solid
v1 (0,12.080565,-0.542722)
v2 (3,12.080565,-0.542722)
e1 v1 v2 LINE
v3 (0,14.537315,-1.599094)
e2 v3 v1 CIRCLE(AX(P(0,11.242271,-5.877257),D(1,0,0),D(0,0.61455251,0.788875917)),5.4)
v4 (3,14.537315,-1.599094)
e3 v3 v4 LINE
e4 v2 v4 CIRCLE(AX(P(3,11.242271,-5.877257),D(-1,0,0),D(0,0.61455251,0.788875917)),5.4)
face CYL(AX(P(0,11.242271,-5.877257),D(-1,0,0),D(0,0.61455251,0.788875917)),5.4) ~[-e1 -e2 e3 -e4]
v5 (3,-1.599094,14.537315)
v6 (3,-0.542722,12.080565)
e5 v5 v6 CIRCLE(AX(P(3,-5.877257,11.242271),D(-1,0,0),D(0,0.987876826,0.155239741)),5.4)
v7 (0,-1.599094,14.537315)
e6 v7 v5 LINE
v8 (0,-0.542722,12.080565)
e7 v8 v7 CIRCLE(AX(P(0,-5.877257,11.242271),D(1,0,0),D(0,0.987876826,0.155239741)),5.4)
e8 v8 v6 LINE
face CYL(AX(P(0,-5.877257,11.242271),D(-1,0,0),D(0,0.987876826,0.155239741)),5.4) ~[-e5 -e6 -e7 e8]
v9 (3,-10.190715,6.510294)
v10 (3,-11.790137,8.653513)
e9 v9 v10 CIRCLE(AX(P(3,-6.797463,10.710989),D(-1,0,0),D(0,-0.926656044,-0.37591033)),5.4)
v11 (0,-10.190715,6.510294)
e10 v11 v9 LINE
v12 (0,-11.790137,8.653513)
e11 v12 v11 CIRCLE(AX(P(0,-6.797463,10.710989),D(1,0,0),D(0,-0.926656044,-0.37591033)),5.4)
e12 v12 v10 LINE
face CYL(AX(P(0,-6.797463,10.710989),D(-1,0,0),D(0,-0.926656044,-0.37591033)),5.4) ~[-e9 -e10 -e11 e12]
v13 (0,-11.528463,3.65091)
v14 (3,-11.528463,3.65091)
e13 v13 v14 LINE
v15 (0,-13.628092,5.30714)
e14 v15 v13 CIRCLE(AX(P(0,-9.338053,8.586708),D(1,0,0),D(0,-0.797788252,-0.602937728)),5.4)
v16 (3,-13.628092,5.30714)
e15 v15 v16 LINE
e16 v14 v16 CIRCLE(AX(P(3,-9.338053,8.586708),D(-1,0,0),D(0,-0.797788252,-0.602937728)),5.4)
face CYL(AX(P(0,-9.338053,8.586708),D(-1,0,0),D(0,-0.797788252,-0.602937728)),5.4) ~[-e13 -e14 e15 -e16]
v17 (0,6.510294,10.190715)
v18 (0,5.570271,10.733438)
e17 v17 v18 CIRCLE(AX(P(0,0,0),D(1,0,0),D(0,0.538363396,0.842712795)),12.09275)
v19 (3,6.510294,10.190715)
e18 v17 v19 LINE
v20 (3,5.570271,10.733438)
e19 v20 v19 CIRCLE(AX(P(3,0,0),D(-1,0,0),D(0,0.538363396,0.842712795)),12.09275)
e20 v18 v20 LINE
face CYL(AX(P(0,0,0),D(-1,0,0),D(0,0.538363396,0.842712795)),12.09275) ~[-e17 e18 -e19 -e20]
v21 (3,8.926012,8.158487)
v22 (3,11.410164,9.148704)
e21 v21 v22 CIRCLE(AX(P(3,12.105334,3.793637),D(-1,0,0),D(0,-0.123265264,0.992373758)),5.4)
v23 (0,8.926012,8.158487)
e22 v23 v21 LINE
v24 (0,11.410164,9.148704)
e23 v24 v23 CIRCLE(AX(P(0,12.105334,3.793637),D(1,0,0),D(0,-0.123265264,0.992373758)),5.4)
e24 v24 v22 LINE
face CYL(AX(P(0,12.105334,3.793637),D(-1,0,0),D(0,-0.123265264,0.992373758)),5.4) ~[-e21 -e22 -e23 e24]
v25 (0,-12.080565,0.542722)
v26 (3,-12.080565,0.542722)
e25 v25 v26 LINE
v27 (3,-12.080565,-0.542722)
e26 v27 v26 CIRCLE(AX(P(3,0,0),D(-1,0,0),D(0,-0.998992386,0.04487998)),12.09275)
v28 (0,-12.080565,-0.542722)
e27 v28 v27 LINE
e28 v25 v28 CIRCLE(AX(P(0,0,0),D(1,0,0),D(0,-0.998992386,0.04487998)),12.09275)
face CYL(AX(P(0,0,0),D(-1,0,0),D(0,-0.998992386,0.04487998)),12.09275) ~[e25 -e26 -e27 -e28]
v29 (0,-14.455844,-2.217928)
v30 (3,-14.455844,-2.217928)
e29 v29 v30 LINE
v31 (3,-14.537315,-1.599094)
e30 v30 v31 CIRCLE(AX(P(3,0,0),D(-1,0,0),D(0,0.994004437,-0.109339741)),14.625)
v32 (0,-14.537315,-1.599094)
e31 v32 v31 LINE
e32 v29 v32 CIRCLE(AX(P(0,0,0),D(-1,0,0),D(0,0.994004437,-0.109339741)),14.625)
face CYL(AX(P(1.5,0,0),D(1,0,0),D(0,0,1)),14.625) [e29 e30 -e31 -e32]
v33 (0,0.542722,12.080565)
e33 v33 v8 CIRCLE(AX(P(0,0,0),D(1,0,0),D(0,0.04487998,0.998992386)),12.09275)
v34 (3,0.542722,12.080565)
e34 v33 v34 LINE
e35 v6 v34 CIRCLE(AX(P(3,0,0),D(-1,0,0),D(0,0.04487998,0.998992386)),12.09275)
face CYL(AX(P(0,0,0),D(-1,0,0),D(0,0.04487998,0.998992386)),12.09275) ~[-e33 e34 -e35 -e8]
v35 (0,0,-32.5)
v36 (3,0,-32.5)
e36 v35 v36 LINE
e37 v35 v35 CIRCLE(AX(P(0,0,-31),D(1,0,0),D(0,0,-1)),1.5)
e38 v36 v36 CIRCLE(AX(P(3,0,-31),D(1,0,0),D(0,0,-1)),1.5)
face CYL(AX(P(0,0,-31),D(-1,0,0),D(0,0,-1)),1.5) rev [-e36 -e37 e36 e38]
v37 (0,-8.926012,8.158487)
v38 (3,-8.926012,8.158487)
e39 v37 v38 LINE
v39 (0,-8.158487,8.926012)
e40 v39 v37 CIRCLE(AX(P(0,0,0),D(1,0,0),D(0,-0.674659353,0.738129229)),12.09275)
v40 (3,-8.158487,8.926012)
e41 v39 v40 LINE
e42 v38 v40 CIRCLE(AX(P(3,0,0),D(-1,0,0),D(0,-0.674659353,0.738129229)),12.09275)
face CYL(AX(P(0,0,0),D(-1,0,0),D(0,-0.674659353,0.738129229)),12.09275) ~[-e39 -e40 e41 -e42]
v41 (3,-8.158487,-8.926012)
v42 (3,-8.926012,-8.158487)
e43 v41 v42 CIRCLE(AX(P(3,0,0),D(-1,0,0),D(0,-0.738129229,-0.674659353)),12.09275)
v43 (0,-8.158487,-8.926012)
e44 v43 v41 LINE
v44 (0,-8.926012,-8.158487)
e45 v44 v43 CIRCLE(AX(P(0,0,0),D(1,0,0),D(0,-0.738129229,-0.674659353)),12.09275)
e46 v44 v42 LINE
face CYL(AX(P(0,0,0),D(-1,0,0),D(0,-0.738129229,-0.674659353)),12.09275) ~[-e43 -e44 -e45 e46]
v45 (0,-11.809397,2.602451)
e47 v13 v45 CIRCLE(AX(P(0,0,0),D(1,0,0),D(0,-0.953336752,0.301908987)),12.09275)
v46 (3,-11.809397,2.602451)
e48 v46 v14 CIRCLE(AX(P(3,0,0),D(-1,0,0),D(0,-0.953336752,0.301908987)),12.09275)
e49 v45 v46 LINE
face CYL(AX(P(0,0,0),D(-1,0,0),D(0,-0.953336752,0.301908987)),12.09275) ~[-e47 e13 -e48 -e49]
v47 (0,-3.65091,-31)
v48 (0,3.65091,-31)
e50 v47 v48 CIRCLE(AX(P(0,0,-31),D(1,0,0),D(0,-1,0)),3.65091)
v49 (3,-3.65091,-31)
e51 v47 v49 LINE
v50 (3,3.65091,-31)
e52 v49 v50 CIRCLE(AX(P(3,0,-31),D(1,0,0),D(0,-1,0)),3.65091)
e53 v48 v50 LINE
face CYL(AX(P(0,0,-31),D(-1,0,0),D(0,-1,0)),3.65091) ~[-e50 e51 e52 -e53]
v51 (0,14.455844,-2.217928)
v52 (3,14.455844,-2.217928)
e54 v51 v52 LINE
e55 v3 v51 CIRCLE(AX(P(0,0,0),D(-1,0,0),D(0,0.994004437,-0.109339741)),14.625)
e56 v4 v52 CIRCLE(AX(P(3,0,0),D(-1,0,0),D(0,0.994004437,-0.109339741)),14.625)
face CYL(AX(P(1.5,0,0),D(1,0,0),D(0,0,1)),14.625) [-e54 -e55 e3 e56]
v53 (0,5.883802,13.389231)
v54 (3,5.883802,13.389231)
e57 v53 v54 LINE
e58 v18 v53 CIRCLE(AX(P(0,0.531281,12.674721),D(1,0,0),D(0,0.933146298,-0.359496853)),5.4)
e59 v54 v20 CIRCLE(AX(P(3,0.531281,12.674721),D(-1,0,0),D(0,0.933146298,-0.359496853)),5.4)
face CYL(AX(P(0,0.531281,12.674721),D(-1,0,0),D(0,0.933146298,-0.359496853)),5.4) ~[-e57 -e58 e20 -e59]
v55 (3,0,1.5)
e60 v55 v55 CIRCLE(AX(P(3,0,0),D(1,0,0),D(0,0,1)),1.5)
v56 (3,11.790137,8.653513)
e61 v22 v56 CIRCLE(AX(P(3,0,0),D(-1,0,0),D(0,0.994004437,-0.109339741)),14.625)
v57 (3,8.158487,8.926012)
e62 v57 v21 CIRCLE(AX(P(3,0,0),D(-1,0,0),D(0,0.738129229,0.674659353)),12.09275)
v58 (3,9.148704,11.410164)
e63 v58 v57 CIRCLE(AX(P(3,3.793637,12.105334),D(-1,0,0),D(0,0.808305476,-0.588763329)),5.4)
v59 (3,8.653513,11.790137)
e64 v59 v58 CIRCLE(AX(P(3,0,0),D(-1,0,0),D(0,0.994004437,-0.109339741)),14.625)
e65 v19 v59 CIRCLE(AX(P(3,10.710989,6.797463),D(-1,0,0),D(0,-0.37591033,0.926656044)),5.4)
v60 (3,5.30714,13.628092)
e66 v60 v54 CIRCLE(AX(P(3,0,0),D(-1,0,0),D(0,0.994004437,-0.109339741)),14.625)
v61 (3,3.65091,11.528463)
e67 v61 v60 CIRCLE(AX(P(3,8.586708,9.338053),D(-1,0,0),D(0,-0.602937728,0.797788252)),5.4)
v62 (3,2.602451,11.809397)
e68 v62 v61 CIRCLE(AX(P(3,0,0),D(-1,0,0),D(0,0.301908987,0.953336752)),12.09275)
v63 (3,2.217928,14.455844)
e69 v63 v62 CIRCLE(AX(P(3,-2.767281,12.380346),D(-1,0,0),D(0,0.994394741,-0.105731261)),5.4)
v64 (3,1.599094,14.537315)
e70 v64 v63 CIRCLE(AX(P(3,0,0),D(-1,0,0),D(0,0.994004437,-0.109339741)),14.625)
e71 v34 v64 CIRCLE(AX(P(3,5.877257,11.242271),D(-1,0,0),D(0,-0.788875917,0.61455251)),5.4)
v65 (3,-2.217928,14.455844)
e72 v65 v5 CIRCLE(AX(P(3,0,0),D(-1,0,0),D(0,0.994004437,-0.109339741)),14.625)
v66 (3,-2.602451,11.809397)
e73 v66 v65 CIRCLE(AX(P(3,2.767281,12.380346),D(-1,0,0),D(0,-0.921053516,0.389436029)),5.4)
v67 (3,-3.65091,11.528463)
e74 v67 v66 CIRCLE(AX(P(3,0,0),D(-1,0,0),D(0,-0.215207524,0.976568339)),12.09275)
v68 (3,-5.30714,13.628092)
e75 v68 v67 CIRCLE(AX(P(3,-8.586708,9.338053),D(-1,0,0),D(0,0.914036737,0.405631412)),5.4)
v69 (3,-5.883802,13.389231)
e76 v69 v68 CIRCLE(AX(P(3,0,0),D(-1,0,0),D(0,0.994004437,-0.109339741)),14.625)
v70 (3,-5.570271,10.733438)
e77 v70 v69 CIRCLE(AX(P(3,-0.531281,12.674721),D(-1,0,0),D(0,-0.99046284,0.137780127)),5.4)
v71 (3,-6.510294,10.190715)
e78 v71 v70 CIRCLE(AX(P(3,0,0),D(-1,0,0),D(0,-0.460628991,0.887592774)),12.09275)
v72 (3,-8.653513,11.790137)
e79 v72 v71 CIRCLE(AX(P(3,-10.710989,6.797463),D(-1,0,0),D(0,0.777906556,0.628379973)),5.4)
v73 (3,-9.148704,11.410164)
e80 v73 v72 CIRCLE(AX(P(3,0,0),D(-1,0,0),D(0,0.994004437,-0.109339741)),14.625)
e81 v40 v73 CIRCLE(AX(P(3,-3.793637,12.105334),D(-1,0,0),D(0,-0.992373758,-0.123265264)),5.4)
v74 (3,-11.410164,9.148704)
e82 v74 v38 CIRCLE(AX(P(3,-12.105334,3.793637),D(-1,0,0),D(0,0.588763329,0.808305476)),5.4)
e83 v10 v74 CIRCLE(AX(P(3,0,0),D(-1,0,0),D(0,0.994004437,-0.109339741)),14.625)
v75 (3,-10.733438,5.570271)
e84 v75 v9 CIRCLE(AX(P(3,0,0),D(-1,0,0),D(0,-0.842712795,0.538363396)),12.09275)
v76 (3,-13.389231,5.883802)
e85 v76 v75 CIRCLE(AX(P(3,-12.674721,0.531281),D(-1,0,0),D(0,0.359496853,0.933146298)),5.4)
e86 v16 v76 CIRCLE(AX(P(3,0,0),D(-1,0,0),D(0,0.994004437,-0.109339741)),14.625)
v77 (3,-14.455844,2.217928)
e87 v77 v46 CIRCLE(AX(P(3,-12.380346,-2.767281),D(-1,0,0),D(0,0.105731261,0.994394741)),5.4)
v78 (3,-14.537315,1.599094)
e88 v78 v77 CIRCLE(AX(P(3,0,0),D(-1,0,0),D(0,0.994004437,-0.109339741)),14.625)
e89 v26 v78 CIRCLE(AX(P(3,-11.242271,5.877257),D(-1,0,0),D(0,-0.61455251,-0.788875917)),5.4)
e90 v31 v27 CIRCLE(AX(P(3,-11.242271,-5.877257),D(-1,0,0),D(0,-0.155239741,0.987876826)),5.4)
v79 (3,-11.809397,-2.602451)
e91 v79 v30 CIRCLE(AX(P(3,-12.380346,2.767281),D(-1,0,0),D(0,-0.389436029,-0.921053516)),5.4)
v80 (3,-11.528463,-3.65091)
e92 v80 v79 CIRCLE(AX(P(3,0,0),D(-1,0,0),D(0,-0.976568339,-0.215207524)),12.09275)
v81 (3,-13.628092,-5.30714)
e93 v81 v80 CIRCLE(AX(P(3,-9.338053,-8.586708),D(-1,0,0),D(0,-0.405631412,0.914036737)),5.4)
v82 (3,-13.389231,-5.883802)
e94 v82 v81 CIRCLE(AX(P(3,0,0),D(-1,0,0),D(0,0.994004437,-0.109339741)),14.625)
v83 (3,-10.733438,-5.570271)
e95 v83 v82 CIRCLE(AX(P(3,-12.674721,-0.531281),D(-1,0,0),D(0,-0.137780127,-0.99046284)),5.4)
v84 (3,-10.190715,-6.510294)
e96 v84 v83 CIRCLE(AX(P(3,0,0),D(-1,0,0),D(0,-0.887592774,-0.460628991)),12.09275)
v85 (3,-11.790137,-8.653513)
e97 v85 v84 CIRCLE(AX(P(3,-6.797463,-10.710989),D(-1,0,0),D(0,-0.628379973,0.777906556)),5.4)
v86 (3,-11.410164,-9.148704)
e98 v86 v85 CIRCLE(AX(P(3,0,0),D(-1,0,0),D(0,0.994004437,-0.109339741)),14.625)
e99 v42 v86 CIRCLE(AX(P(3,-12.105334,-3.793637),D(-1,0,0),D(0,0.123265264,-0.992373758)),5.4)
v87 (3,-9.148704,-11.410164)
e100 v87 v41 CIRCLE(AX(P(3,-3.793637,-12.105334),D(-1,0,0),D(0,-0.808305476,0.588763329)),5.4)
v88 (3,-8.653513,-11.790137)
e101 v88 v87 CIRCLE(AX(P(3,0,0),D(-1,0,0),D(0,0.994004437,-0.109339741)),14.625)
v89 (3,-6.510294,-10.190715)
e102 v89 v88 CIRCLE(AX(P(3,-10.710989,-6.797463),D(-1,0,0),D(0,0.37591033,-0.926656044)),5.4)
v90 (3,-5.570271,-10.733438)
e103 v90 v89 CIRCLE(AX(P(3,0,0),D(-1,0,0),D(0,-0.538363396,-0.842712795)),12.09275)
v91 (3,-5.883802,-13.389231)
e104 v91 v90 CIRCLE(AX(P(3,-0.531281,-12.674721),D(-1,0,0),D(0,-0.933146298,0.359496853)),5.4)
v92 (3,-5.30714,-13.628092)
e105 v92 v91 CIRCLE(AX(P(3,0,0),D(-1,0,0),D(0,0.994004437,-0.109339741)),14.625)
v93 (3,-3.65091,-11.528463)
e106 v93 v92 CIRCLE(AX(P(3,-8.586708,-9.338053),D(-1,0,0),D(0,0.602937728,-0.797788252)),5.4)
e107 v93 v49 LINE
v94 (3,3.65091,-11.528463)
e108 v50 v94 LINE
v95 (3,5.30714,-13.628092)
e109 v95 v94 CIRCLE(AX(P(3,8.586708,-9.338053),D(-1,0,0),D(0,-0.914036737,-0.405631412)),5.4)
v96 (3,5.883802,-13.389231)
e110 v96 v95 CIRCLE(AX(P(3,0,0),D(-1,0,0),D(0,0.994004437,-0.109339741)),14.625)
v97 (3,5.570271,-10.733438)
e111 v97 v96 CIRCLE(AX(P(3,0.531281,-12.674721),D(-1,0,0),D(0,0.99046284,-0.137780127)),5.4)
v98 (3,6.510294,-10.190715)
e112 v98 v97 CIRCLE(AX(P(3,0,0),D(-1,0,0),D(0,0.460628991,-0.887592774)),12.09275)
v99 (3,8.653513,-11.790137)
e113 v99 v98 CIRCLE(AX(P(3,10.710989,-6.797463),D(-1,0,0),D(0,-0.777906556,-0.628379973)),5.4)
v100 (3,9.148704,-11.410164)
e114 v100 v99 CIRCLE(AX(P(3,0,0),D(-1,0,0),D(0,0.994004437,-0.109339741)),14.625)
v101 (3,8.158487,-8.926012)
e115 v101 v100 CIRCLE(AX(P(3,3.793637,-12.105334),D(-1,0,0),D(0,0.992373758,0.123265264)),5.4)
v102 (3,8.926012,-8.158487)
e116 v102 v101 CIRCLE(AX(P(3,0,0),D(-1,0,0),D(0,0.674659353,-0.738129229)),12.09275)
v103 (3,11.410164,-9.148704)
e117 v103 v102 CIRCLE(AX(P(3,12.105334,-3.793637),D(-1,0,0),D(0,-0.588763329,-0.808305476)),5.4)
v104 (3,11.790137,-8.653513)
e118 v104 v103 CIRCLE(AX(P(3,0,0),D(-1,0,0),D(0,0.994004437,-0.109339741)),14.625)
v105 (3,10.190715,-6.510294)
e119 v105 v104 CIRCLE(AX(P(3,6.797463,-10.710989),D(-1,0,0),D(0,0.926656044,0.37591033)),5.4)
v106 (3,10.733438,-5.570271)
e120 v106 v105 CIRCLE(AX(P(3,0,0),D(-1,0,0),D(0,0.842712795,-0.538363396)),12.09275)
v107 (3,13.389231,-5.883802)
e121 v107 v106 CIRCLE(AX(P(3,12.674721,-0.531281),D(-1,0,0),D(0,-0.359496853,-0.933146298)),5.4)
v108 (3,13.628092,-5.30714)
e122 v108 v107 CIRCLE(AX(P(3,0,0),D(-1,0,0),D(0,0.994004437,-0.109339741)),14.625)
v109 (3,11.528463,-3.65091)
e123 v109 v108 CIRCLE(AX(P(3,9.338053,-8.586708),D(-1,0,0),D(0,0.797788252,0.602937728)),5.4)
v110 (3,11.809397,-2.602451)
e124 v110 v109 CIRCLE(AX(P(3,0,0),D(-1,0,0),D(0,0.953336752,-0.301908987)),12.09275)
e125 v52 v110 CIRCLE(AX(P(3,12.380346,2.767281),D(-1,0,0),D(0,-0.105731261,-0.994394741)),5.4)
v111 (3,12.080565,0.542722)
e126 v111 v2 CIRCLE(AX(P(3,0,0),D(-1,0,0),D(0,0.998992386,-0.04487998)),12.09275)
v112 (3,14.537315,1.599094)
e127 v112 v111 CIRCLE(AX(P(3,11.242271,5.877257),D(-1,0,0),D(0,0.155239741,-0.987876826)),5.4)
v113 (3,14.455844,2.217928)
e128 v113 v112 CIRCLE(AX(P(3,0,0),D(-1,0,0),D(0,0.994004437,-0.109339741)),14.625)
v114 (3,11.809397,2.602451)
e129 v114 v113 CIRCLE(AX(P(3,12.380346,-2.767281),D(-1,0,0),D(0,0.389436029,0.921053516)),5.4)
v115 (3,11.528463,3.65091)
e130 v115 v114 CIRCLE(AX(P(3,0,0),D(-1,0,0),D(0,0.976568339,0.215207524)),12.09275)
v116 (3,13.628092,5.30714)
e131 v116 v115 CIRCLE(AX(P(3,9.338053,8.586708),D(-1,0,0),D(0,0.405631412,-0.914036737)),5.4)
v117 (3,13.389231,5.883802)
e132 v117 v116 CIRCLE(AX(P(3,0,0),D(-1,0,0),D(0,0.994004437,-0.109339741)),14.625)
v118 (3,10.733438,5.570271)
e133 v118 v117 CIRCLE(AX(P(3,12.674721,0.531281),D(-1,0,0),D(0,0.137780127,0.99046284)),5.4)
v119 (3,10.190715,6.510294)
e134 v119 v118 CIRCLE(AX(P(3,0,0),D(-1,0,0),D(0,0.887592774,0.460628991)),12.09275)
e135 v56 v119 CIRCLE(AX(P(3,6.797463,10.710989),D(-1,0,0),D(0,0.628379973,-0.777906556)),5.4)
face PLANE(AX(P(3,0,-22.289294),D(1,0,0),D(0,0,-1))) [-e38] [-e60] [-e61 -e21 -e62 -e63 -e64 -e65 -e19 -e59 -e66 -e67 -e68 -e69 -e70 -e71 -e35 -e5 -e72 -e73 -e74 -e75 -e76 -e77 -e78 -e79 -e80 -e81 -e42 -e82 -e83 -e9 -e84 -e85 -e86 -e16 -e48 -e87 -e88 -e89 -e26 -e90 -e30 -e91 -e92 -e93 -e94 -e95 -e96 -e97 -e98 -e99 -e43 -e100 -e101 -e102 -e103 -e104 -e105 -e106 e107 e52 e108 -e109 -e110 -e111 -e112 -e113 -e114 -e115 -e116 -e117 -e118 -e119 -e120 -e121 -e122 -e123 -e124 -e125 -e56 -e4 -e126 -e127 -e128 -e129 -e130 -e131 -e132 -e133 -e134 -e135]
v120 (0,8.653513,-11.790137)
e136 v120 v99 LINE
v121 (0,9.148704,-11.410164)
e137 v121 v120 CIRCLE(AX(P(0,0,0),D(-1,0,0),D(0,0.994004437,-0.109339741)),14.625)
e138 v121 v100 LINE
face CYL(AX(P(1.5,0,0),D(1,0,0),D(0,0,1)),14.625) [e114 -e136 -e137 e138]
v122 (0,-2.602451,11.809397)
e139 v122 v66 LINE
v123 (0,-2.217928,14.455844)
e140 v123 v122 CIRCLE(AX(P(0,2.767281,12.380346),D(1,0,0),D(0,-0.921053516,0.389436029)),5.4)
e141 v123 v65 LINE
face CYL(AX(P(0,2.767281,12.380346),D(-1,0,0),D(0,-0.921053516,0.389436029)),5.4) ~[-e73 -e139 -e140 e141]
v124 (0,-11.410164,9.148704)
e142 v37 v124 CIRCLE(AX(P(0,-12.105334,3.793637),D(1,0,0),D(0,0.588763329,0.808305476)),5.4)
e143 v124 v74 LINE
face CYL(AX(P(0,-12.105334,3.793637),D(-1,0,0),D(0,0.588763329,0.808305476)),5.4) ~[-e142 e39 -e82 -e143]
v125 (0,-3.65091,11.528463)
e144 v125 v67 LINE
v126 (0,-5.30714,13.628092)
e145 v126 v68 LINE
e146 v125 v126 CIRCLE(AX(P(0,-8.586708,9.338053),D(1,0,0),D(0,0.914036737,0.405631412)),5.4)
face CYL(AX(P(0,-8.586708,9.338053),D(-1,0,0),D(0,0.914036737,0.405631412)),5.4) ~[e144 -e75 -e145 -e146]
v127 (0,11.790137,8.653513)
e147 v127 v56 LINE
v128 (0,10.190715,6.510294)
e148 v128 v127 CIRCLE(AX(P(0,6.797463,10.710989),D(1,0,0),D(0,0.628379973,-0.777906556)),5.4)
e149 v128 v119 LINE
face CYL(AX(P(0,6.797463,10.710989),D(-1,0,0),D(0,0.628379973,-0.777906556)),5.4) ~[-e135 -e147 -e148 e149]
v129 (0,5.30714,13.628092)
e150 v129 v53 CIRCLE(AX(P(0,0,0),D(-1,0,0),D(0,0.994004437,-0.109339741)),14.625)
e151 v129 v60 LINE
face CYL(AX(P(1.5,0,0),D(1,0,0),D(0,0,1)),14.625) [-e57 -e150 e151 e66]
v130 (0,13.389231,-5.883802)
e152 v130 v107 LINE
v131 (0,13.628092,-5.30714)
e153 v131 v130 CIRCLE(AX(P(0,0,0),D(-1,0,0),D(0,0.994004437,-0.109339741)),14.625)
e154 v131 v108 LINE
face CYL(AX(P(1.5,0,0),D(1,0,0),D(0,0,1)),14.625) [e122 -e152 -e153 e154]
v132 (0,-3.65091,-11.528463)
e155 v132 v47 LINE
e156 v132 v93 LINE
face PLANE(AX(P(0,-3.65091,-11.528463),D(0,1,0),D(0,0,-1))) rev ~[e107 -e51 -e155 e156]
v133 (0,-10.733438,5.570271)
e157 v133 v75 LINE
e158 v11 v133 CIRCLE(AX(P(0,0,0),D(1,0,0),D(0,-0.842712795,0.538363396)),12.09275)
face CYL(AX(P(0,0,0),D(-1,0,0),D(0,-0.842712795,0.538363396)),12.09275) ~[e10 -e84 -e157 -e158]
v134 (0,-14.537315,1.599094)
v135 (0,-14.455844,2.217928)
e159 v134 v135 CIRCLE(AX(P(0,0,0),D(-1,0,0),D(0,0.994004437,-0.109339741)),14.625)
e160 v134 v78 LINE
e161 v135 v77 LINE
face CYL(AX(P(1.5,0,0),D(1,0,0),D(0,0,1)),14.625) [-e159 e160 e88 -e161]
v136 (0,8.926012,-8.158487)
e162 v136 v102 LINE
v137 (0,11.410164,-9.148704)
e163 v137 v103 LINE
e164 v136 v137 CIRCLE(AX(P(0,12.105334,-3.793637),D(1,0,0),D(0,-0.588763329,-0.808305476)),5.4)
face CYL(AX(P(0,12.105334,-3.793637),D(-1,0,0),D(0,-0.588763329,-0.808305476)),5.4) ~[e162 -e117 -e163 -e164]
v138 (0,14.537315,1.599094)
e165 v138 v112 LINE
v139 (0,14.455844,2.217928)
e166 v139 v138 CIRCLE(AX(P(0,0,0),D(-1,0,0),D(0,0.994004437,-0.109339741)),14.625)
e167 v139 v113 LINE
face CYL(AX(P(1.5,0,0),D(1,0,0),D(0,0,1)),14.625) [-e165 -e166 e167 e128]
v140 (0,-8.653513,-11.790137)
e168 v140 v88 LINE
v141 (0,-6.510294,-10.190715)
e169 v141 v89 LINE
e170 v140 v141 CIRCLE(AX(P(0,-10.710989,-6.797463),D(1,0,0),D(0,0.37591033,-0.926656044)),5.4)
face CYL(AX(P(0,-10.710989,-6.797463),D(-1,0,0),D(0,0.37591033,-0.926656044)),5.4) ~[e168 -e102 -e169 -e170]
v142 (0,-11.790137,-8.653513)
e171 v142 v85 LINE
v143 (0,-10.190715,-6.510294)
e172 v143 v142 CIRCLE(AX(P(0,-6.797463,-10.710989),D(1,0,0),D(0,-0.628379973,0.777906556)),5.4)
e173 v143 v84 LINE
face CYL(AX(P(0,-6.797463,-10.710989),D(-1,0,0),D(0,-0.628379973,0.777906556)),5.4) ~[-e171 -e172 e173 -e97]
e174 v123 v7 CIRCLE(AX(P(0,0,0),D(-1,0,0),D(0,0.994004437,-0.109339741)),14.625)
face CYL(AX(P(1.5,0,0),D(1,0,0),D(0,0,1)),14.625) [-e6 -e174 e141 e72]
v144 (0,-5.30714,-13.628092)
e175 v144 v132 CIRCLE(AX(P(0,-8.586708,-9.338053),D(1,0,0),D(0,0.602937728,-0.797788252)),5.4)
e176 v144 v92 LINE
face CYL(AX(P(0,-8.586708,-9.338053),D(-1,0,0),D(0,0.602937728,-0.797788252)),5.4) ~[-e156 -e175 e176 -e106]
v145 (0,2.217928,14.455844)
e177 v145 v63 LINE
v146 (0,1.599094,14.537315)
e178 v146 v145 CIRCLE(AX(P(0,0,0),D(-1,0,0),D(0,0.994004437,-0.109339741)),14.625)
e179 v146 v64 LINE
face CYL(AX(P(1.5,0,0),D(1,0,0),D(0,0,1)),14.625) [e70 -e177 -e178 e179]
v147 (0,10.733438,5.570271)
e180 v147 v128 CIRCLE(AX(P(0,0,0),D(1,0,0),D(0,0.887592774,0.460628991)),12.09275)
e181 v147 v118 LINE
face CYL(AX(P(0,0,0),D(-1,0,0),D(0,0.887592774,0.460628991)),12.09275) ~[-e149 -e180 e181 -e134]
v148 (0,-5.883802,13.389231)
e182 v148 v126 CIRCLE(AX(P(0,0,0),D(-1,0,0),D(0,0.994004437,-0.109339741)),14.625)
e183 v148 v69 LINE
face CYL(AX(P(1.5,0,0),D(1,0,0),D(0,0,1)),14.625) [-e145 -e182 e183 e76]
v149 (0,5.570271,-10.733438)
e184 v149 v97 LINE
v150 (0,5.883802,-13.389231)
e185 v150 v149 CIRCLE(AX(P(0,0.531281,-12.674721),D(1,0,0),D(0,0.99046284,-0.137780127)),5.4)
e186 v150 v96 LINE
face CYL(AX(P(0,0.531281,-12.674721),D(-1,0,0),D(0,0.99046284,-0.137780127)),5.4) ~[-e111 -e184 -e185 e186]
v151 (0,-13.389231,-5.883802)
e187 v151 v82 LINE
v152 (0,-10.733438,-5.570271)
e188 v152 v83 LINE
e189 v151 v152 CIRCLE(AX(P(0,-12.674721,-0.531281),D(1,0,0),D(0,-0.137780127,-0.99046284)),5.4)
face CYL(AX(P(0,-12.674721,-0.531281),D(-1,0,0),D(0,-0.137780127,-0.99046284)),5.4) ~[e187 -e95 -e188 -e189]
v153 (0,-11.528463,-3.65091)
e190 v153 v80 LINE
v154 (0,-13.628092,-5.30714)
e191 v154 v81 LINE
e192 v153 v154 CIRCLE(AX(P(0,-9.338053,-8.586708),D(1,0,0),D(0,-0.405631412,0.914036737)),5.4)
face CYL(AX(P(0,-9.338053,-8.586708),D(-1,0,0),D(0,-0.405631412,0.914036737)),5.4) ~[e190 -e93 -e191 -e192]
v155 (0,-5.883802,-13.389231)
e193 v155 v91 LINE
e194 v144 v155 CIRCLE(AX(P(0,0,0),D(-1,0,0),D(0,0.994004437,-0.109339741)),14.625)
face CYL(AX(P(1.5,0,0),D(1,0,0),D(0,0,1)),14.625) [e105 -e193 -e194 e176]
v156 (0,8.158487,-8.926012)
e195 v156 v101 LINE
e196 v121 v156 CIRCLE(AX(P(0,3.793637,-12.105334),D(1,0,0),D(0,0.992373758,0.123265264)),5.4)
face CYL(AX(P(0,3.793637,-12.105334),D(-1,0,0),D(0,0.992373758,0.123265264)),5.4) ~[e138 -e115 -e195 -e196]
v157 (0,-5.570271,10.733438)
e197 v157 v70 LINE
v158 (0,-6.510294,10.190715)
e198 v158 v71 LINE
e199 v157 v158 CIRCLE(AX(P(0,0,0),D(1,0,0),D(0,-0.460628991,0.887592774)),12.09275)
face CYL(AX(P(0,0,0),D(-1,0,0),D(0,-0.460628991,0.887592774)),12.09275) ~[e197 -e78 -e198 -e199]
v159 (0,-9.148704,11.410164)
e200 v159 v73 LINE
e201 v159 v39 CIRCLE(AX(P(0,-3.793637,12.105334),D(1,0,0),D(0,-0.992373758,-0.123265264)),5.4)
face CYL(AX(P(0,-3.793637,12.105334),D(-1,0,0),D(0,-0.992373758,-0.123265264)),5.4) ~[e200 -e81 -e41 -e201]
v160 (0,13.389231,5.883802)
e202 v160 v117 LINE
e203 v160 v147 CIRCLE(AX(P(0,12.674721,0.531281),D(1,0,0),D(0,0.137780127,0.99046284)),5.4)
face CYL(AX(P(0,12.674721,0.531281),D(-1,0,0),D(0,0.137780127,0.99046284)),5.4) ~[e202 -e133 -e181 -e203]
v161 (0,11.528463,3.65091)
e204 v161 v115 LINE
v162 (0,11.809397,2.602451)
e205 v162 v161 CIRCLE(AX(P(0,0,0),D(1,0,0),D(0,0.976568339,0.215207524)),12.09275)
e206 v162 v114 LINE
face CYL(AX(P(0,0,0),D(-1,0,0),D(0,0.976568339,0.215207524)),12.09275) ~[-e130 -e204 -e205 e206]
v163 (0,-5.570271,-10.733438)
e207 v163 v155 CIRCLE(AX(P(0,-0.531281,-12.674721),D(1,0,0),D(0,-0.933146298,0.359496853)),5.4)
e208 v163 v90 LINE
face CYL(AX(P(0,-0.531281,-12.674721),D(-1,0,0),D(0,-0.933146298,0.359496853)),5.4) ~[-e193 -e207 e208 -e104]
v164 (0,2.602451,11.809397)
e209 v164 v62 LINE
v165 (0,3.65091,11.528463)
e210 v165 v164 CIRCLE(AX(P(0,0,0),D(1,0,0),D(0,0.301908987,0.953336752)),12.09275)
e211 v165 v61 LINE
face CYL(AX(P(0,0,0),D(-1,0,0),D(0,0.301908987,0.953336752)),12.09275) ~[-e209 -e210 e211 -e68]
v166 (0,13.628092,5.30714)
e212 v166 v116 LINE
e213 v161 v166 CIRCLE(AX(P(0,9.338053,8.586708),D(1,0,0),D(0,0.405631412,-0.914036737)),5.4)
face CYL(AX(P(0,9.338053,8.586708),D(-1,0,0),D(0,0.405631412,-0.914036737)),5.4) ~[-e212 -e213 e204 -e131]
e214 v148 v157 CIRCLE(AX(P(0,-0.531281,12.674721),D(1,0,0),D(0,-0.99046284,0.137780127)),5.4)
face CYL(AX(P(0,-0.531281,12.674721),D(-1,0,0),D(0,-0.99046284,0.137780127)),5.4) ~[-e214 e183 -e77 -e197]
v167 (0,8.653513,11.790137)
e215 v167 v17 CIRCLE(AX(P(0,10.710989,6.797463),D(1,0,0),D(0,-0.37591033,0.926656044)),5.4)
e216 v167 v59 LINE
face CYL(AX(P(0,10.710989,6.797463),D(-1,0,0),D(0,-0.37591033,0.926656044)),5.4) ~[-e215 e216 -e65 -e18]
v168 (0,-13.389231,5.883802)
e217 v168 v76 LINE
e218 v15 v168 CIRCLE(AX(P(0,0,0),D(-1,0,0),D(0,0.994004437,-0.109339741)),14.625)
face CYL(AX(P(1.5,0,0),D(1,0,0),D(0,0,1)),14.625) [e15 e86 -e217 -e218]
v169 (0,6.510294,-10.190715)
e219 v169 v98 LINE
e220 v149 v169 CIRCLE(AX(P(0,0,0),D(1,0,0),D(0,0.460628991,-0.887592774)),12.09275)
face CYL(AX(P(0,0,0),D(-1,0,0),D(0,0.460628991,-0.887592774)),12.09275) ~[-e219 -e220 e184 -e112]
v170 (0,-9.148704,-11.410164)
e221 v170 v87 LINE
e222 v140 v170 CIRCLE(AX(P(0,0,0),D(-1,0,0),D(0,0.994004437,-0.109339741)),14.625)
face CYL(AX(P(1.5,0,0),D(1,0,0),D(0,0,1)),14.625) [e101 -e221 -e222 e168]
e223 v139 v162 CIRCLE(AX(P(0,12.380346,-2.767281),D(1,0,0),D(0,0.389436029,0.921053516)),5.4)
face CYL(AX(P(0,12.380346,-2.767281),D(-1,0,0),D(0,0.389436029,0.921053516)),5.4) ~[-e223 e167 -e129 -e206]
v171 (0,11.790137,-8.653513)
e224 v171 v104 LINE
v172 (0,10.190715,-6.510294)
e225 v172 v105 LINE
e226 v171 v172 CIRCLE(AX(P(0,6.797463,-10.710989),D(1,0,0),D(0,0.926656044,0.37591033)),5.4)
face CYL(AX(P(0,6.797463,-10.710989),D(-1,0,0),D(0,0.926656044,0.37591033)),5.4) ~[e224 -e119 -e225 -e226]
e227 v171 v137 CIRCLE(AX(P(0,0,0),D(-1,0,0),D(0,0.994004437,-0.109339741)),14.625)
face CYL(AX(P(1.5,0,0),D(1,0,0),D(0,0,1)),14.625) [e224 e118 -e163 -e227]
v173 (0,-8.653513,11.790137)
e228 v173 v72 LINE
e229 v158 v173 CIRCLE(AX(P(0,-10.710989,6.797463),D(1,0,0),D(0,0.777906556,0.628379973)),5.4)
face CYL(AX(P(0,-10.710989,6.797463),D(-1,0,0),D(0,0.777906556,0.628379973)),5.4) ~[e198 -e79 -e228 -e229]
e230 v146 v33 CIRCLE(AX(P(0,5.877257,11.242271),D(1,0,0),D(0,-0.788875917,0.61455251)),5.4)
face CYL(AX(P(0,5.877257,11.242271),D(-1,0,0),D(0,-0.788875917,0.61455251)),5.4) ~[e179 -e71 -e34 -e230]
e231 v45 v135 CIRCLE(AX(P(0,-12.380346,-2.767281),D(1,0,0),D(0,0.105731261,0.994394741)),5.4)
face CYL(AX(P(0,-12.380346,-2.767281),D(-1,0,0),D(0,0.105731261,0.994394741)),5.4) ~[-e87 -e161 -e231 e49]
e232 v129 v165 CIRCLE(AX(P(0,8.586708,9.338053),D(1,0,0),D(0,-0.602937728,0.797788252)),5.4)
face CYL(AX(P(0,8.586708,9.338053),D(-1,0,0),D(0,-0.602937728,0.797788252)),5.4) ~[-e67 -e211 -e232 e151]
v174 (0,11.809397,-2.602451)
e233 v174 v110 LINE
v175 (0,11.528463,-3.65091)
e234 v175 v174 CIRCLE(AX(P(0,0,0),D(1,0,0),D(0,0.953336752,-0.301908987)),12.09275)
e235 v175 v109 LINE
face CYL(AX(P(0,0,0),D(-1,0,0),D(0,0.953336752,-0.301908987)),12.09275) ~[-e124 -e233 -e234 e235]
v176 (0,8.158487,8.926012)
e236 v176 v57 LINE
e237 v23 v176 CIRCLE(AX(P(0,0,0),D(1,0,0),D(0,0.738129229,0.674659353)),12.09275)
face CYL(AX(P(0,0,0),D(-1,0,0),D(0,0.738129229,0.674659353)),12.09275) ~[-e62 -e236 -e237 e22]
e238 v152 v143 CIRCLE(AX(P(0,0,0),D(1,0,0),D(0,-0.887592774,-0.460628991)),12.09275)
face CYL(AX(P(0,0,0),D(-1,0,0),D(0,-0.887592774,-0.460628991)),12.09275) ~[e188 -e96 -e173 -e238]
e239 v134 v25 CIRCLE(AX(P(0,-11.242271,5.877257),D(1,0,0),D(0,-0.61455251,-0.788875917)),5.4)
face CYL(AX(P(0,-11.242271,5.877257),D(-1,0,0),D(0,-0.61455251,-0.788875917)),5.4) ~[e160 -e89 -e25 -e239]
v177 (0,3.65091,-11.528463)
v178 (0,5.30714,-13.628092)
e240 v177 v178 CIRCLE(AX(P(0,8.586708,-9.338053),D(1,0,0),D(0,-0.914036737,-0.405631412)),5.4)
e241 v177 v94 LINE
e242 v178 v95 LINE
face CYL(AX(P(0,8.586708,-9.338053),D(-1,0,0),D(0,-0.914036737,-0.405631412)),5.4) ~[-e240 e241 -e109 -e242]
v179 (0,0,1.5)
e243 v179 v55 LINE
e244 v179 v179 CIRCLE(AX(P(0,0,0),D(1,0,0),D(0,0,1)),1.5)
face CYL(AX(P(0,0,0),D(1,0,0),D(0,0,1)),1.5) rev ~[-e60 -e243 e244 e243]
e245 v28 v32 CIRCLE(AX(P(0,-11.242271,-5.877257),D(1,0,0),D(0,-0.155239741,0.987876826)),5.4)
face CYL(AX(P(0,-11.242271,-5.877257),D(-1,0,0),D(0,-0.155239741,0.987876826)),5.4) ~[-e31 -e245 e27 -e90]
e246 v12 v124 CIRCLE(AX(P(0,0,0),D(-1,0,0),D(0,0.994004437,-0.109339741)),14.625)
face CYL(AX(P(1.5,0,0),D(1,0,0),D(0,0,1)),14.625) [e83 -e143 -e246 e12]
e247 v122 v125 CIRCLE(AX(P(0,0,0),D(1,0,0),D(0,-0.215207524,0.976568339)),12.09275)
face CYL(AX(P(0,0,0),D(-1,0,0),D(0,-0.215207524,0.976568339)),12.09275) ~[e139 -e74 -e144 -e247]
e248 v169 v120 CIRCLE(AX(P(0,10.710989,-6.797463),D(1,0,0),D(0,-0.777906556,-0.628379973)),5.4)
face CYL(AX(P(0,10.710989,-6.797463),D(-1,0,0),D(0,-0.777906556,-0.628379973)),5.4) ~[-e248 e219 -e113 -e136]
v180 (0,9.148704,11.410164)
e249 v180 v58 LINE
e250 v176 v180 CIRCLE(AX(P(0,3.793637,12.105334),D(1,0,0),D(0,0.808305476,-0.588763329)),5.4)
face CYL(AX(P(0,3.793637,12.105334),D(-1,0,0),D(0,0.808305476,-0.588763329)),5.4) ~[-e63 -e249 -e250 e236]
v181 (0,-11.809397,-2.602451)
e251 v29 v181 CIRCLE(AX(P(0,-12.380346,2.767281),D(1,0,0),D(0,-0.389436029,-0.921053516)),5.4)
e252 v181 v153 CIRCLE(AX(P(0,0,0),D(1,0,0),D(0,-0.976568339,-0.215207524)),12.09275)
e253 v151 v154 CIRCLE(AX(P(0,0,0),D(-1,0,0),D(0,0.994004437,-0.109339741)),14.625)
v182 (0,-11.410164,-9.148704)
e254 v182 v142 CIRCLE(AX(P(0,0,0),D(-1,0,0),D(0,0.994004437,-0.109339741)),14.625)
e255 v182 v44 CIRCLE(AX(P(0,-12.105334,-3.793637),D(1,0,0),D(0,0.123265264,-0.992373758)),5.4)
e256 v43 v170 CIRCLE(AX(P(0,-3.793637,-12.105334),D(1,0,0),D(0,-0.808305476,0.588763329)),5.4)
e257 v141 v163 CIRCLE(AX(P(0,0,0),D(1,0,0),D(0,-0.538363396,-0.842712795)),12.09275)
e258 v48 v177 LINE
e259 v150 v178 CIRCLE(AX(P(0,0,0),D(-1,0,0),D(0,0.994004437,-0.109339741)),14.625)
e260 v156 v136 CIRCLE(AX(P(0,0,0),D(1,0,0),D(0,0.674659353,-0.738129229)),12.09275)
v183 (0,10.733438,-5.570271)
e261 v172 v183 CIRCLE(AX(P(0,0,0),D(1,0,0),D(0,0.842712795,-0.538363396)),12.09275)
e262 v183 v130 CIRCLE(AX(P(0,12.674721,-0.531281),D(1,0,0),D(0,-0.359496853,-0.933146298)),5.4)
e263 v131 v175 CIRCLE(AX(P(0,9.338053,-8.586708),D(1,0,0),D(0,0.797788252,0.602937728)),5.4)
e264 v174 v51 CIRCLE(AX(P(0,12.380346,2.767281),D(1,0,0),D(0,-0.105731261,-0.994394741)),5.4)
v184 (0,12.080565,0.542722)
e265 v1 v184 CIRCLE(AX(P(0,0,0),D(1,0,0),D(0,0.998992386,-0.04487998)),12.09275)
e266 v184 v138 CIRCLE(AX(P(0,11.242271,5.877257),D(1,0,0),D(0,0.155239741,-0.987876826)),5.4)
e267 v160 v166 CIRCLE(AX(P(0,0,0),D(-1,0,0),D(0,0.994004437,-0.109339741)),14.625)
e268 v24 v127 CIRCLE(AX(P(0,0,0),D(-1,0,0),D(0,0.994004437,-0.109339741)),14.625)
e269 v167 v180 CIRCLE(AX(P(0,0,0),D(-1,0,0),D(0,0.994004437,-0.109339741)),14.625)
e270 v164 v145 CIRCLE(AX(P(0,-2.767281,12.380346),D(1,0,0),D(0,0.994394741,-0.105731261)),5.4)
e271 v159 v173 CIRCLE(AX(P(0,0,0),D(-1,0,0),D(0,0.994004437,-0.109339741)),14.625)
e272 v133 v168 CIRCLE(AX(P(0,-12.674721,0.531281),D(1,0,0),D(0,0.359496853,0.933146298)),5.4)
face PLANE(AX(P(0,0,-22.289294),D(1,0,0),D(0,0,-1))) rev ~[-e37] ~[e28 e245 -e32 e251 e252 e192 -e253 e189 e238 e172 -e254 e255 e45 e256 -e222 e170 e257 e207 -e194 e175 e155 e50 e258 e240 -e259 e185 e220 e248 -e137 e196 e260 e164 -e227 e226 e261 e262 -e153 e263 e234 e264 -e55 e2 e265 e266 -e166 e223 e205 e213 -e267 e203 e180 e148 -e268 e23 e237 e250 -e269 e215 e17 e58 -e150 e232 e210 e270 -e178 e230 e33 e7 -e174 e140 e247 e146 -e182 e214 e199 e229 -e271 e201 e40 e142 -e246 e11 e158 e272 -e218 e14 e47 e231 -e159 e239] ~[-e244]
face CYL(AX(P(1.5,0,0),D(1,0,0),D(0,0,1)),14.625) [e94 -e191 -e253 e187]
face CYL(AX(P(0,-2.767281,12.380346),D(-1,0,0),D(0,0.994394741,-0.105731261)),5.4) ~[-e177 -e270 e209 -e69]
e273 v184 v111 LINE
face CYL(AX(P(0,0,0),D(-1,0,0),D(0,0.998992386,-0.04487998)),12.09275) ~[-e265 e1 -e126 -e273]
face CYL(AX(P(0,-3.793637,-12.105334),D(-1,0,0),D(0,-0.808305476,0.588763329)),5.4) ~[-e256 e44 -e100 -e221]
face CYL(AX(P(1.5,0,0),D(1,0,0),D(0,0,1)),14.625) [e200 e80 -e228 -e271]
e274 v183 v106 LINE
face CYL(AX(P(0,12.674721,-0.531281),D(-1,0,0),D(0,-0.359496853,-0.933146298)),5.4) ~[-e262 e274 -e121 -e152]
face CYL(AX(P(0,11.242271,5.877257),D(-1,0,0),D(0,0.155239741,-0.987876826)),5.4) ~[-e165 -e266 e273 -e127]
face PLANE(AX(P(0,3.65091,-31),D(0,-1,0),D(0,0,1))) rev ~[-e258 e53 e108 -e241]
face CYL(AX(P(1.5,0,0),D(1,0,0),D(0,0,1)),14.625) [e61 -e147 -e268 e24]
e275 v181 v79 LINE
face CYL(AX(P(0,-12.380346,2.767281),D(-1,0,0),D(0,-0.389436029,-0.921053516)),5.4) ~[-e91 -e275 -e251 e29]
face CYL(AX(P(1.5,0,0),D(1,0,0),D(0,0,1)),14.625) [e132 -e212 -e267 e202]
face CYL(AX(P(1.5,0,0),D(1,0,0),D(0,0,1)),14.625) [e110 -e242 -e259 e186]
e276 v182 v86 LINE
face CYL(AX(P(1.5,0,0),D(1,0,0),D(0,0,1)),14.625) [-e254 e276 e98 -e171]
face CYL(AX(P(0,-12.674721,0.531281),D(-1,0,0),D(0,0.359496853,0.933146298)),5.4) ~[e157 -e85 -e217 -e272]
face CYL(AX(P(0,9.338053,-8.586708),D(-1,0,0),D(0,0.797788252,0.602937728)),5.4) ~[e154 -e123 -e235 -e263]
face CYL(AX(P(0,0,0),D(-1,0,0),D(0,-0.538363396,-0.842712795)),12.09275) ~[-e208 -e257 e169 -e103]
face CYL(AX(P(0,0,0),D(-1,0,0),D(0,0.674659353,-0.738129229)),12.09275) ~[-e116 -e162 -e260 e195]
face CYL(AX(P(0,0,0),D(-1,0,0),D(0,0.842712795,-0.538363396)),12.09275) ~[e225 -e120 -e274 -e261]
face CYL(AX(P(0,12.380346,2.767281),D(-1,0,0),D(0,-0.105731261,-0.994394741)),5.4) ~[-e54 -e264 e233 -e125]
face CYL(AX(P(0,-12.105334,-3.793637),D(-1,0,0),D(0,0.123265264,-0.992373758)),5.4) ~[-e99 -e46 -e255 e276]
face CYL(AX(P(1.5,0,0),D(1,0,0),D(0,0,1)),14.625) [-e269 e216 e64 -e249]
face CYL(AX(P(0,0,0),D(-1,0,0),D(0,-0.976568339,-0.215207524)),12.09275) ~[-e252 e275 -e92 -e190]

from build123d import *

# Parameters (mm, degrees)
BASPROSKE_W         = 3
BASPROSKE_H         = 14.625
TOOTHCUT_DEPTH      = 21.89931219
TEETHCUTS_COUNT     = 24
TEETHCUTS_ANGLE     = 345
BORSKE_R            = 1.5
BORE_DEPTH          = 50.0000508
SKETCH1_R           = 1.5
BOSS_EXTRUDE1_DEPTH = 3


with BuildPart() as part:
    # BasProSke → Base-Revolve (revolve)
    with BuildSketch(Plane(origin=(0, 0, 0), x_dir=(1, 0, 0), z_dir=(0, 1, 0)), mode=Mode.PRIVATE) as base_revolve_sk:
        with Locations((1.5, 7.3125)):
            Rectangle(BASPROSKE_W, BASPROSKE_H)
    revolve(base_revolve_sk.sketch.rotate(Axis((-10, 0, 0), (1, 0, 0)), 180), axis=Axis((-10, 0, 0), (1, 0, 0)))

    # TooCutSke → ToothCut (cut, through all)
    with BuildSketch(Plane(origin=(0, 0, 0), x_dir=(0, 0, -1), z_dir=(1, 0, 0))):
        with BuildLine():
            ThreePointArc((0.542722358, 12.080565177), (0, 12.09275), (-0.542722358, 12.080565177))
            ThreePointArc((-0.542722358, 12.080565177), (-0.922320579, 13.38903626), (-1.617327261, 14.56085412))
            ThreePointArc((-1.617327261, 14.56085412), (0, 14.6504), (1.617327261, 14.56085412))
            ThreePointArc((1.617327261, 14.56085412), (0.922320579, 13.38903626), (0.542722358, 12.080565177))
        make_face()
    toothcut = extrude(amount=TOOTHCUT_DEPTH, mode=Mode.SUBTRACT)

    # TeethCuts: ToothCut ×24 about axis
    teethcuts_axis = Axis((-10, 0, 0), (1, 0, 0))
    for i in range(1, TEETHCUTS_COUNT):
        add(toothcut.rotate(teethcuts_axis, i * TEETHCUTS_ANGLE / (TEETHCUTS_COUNT - 1)), mode=Mode.SUBTRACT)

    # BorSke → Bore (cut, symmetric)
    with BuildSketch(Plane(origin=(0, 0, 0), x_dir=(0, 0, -1), z_dir=(1, 0, 0))):
        with Locations(Location((0, 0, 0), (0, 0, 180))):
            Circle(BORSKE_R)
    extrude(amount=BORE_DEPTH, both=True, mode=Mode.SUBTRACT)

    # Sketch1 → Boss-Extrude1 (add)
    with BuildSketch(Plane(origin=(0, 0, 0), x_dir=(0, 0, -1), z_dir=(1, 0, 0))):
        with BuildLine():
            Line((31, 3.650909885), (11.528463019, 3.650909885))
            Line((11.528463019, 3.650909885), (11.528463019, -3.650909885))
            Line((11.528463019, -3.650909885), (31, -3.650909885))
            ThreePointArc((31, -3.650909885), (34.650909885, 0), (31, 3.650909885))
        make_face()
        with Locations((31, 0)):
            Circle(SKETCH1_R, mode=Mode.SUBTRACT)
    extrude(amount=BOSS_EXTRUDE1_DEPTH)


solid = part.part
